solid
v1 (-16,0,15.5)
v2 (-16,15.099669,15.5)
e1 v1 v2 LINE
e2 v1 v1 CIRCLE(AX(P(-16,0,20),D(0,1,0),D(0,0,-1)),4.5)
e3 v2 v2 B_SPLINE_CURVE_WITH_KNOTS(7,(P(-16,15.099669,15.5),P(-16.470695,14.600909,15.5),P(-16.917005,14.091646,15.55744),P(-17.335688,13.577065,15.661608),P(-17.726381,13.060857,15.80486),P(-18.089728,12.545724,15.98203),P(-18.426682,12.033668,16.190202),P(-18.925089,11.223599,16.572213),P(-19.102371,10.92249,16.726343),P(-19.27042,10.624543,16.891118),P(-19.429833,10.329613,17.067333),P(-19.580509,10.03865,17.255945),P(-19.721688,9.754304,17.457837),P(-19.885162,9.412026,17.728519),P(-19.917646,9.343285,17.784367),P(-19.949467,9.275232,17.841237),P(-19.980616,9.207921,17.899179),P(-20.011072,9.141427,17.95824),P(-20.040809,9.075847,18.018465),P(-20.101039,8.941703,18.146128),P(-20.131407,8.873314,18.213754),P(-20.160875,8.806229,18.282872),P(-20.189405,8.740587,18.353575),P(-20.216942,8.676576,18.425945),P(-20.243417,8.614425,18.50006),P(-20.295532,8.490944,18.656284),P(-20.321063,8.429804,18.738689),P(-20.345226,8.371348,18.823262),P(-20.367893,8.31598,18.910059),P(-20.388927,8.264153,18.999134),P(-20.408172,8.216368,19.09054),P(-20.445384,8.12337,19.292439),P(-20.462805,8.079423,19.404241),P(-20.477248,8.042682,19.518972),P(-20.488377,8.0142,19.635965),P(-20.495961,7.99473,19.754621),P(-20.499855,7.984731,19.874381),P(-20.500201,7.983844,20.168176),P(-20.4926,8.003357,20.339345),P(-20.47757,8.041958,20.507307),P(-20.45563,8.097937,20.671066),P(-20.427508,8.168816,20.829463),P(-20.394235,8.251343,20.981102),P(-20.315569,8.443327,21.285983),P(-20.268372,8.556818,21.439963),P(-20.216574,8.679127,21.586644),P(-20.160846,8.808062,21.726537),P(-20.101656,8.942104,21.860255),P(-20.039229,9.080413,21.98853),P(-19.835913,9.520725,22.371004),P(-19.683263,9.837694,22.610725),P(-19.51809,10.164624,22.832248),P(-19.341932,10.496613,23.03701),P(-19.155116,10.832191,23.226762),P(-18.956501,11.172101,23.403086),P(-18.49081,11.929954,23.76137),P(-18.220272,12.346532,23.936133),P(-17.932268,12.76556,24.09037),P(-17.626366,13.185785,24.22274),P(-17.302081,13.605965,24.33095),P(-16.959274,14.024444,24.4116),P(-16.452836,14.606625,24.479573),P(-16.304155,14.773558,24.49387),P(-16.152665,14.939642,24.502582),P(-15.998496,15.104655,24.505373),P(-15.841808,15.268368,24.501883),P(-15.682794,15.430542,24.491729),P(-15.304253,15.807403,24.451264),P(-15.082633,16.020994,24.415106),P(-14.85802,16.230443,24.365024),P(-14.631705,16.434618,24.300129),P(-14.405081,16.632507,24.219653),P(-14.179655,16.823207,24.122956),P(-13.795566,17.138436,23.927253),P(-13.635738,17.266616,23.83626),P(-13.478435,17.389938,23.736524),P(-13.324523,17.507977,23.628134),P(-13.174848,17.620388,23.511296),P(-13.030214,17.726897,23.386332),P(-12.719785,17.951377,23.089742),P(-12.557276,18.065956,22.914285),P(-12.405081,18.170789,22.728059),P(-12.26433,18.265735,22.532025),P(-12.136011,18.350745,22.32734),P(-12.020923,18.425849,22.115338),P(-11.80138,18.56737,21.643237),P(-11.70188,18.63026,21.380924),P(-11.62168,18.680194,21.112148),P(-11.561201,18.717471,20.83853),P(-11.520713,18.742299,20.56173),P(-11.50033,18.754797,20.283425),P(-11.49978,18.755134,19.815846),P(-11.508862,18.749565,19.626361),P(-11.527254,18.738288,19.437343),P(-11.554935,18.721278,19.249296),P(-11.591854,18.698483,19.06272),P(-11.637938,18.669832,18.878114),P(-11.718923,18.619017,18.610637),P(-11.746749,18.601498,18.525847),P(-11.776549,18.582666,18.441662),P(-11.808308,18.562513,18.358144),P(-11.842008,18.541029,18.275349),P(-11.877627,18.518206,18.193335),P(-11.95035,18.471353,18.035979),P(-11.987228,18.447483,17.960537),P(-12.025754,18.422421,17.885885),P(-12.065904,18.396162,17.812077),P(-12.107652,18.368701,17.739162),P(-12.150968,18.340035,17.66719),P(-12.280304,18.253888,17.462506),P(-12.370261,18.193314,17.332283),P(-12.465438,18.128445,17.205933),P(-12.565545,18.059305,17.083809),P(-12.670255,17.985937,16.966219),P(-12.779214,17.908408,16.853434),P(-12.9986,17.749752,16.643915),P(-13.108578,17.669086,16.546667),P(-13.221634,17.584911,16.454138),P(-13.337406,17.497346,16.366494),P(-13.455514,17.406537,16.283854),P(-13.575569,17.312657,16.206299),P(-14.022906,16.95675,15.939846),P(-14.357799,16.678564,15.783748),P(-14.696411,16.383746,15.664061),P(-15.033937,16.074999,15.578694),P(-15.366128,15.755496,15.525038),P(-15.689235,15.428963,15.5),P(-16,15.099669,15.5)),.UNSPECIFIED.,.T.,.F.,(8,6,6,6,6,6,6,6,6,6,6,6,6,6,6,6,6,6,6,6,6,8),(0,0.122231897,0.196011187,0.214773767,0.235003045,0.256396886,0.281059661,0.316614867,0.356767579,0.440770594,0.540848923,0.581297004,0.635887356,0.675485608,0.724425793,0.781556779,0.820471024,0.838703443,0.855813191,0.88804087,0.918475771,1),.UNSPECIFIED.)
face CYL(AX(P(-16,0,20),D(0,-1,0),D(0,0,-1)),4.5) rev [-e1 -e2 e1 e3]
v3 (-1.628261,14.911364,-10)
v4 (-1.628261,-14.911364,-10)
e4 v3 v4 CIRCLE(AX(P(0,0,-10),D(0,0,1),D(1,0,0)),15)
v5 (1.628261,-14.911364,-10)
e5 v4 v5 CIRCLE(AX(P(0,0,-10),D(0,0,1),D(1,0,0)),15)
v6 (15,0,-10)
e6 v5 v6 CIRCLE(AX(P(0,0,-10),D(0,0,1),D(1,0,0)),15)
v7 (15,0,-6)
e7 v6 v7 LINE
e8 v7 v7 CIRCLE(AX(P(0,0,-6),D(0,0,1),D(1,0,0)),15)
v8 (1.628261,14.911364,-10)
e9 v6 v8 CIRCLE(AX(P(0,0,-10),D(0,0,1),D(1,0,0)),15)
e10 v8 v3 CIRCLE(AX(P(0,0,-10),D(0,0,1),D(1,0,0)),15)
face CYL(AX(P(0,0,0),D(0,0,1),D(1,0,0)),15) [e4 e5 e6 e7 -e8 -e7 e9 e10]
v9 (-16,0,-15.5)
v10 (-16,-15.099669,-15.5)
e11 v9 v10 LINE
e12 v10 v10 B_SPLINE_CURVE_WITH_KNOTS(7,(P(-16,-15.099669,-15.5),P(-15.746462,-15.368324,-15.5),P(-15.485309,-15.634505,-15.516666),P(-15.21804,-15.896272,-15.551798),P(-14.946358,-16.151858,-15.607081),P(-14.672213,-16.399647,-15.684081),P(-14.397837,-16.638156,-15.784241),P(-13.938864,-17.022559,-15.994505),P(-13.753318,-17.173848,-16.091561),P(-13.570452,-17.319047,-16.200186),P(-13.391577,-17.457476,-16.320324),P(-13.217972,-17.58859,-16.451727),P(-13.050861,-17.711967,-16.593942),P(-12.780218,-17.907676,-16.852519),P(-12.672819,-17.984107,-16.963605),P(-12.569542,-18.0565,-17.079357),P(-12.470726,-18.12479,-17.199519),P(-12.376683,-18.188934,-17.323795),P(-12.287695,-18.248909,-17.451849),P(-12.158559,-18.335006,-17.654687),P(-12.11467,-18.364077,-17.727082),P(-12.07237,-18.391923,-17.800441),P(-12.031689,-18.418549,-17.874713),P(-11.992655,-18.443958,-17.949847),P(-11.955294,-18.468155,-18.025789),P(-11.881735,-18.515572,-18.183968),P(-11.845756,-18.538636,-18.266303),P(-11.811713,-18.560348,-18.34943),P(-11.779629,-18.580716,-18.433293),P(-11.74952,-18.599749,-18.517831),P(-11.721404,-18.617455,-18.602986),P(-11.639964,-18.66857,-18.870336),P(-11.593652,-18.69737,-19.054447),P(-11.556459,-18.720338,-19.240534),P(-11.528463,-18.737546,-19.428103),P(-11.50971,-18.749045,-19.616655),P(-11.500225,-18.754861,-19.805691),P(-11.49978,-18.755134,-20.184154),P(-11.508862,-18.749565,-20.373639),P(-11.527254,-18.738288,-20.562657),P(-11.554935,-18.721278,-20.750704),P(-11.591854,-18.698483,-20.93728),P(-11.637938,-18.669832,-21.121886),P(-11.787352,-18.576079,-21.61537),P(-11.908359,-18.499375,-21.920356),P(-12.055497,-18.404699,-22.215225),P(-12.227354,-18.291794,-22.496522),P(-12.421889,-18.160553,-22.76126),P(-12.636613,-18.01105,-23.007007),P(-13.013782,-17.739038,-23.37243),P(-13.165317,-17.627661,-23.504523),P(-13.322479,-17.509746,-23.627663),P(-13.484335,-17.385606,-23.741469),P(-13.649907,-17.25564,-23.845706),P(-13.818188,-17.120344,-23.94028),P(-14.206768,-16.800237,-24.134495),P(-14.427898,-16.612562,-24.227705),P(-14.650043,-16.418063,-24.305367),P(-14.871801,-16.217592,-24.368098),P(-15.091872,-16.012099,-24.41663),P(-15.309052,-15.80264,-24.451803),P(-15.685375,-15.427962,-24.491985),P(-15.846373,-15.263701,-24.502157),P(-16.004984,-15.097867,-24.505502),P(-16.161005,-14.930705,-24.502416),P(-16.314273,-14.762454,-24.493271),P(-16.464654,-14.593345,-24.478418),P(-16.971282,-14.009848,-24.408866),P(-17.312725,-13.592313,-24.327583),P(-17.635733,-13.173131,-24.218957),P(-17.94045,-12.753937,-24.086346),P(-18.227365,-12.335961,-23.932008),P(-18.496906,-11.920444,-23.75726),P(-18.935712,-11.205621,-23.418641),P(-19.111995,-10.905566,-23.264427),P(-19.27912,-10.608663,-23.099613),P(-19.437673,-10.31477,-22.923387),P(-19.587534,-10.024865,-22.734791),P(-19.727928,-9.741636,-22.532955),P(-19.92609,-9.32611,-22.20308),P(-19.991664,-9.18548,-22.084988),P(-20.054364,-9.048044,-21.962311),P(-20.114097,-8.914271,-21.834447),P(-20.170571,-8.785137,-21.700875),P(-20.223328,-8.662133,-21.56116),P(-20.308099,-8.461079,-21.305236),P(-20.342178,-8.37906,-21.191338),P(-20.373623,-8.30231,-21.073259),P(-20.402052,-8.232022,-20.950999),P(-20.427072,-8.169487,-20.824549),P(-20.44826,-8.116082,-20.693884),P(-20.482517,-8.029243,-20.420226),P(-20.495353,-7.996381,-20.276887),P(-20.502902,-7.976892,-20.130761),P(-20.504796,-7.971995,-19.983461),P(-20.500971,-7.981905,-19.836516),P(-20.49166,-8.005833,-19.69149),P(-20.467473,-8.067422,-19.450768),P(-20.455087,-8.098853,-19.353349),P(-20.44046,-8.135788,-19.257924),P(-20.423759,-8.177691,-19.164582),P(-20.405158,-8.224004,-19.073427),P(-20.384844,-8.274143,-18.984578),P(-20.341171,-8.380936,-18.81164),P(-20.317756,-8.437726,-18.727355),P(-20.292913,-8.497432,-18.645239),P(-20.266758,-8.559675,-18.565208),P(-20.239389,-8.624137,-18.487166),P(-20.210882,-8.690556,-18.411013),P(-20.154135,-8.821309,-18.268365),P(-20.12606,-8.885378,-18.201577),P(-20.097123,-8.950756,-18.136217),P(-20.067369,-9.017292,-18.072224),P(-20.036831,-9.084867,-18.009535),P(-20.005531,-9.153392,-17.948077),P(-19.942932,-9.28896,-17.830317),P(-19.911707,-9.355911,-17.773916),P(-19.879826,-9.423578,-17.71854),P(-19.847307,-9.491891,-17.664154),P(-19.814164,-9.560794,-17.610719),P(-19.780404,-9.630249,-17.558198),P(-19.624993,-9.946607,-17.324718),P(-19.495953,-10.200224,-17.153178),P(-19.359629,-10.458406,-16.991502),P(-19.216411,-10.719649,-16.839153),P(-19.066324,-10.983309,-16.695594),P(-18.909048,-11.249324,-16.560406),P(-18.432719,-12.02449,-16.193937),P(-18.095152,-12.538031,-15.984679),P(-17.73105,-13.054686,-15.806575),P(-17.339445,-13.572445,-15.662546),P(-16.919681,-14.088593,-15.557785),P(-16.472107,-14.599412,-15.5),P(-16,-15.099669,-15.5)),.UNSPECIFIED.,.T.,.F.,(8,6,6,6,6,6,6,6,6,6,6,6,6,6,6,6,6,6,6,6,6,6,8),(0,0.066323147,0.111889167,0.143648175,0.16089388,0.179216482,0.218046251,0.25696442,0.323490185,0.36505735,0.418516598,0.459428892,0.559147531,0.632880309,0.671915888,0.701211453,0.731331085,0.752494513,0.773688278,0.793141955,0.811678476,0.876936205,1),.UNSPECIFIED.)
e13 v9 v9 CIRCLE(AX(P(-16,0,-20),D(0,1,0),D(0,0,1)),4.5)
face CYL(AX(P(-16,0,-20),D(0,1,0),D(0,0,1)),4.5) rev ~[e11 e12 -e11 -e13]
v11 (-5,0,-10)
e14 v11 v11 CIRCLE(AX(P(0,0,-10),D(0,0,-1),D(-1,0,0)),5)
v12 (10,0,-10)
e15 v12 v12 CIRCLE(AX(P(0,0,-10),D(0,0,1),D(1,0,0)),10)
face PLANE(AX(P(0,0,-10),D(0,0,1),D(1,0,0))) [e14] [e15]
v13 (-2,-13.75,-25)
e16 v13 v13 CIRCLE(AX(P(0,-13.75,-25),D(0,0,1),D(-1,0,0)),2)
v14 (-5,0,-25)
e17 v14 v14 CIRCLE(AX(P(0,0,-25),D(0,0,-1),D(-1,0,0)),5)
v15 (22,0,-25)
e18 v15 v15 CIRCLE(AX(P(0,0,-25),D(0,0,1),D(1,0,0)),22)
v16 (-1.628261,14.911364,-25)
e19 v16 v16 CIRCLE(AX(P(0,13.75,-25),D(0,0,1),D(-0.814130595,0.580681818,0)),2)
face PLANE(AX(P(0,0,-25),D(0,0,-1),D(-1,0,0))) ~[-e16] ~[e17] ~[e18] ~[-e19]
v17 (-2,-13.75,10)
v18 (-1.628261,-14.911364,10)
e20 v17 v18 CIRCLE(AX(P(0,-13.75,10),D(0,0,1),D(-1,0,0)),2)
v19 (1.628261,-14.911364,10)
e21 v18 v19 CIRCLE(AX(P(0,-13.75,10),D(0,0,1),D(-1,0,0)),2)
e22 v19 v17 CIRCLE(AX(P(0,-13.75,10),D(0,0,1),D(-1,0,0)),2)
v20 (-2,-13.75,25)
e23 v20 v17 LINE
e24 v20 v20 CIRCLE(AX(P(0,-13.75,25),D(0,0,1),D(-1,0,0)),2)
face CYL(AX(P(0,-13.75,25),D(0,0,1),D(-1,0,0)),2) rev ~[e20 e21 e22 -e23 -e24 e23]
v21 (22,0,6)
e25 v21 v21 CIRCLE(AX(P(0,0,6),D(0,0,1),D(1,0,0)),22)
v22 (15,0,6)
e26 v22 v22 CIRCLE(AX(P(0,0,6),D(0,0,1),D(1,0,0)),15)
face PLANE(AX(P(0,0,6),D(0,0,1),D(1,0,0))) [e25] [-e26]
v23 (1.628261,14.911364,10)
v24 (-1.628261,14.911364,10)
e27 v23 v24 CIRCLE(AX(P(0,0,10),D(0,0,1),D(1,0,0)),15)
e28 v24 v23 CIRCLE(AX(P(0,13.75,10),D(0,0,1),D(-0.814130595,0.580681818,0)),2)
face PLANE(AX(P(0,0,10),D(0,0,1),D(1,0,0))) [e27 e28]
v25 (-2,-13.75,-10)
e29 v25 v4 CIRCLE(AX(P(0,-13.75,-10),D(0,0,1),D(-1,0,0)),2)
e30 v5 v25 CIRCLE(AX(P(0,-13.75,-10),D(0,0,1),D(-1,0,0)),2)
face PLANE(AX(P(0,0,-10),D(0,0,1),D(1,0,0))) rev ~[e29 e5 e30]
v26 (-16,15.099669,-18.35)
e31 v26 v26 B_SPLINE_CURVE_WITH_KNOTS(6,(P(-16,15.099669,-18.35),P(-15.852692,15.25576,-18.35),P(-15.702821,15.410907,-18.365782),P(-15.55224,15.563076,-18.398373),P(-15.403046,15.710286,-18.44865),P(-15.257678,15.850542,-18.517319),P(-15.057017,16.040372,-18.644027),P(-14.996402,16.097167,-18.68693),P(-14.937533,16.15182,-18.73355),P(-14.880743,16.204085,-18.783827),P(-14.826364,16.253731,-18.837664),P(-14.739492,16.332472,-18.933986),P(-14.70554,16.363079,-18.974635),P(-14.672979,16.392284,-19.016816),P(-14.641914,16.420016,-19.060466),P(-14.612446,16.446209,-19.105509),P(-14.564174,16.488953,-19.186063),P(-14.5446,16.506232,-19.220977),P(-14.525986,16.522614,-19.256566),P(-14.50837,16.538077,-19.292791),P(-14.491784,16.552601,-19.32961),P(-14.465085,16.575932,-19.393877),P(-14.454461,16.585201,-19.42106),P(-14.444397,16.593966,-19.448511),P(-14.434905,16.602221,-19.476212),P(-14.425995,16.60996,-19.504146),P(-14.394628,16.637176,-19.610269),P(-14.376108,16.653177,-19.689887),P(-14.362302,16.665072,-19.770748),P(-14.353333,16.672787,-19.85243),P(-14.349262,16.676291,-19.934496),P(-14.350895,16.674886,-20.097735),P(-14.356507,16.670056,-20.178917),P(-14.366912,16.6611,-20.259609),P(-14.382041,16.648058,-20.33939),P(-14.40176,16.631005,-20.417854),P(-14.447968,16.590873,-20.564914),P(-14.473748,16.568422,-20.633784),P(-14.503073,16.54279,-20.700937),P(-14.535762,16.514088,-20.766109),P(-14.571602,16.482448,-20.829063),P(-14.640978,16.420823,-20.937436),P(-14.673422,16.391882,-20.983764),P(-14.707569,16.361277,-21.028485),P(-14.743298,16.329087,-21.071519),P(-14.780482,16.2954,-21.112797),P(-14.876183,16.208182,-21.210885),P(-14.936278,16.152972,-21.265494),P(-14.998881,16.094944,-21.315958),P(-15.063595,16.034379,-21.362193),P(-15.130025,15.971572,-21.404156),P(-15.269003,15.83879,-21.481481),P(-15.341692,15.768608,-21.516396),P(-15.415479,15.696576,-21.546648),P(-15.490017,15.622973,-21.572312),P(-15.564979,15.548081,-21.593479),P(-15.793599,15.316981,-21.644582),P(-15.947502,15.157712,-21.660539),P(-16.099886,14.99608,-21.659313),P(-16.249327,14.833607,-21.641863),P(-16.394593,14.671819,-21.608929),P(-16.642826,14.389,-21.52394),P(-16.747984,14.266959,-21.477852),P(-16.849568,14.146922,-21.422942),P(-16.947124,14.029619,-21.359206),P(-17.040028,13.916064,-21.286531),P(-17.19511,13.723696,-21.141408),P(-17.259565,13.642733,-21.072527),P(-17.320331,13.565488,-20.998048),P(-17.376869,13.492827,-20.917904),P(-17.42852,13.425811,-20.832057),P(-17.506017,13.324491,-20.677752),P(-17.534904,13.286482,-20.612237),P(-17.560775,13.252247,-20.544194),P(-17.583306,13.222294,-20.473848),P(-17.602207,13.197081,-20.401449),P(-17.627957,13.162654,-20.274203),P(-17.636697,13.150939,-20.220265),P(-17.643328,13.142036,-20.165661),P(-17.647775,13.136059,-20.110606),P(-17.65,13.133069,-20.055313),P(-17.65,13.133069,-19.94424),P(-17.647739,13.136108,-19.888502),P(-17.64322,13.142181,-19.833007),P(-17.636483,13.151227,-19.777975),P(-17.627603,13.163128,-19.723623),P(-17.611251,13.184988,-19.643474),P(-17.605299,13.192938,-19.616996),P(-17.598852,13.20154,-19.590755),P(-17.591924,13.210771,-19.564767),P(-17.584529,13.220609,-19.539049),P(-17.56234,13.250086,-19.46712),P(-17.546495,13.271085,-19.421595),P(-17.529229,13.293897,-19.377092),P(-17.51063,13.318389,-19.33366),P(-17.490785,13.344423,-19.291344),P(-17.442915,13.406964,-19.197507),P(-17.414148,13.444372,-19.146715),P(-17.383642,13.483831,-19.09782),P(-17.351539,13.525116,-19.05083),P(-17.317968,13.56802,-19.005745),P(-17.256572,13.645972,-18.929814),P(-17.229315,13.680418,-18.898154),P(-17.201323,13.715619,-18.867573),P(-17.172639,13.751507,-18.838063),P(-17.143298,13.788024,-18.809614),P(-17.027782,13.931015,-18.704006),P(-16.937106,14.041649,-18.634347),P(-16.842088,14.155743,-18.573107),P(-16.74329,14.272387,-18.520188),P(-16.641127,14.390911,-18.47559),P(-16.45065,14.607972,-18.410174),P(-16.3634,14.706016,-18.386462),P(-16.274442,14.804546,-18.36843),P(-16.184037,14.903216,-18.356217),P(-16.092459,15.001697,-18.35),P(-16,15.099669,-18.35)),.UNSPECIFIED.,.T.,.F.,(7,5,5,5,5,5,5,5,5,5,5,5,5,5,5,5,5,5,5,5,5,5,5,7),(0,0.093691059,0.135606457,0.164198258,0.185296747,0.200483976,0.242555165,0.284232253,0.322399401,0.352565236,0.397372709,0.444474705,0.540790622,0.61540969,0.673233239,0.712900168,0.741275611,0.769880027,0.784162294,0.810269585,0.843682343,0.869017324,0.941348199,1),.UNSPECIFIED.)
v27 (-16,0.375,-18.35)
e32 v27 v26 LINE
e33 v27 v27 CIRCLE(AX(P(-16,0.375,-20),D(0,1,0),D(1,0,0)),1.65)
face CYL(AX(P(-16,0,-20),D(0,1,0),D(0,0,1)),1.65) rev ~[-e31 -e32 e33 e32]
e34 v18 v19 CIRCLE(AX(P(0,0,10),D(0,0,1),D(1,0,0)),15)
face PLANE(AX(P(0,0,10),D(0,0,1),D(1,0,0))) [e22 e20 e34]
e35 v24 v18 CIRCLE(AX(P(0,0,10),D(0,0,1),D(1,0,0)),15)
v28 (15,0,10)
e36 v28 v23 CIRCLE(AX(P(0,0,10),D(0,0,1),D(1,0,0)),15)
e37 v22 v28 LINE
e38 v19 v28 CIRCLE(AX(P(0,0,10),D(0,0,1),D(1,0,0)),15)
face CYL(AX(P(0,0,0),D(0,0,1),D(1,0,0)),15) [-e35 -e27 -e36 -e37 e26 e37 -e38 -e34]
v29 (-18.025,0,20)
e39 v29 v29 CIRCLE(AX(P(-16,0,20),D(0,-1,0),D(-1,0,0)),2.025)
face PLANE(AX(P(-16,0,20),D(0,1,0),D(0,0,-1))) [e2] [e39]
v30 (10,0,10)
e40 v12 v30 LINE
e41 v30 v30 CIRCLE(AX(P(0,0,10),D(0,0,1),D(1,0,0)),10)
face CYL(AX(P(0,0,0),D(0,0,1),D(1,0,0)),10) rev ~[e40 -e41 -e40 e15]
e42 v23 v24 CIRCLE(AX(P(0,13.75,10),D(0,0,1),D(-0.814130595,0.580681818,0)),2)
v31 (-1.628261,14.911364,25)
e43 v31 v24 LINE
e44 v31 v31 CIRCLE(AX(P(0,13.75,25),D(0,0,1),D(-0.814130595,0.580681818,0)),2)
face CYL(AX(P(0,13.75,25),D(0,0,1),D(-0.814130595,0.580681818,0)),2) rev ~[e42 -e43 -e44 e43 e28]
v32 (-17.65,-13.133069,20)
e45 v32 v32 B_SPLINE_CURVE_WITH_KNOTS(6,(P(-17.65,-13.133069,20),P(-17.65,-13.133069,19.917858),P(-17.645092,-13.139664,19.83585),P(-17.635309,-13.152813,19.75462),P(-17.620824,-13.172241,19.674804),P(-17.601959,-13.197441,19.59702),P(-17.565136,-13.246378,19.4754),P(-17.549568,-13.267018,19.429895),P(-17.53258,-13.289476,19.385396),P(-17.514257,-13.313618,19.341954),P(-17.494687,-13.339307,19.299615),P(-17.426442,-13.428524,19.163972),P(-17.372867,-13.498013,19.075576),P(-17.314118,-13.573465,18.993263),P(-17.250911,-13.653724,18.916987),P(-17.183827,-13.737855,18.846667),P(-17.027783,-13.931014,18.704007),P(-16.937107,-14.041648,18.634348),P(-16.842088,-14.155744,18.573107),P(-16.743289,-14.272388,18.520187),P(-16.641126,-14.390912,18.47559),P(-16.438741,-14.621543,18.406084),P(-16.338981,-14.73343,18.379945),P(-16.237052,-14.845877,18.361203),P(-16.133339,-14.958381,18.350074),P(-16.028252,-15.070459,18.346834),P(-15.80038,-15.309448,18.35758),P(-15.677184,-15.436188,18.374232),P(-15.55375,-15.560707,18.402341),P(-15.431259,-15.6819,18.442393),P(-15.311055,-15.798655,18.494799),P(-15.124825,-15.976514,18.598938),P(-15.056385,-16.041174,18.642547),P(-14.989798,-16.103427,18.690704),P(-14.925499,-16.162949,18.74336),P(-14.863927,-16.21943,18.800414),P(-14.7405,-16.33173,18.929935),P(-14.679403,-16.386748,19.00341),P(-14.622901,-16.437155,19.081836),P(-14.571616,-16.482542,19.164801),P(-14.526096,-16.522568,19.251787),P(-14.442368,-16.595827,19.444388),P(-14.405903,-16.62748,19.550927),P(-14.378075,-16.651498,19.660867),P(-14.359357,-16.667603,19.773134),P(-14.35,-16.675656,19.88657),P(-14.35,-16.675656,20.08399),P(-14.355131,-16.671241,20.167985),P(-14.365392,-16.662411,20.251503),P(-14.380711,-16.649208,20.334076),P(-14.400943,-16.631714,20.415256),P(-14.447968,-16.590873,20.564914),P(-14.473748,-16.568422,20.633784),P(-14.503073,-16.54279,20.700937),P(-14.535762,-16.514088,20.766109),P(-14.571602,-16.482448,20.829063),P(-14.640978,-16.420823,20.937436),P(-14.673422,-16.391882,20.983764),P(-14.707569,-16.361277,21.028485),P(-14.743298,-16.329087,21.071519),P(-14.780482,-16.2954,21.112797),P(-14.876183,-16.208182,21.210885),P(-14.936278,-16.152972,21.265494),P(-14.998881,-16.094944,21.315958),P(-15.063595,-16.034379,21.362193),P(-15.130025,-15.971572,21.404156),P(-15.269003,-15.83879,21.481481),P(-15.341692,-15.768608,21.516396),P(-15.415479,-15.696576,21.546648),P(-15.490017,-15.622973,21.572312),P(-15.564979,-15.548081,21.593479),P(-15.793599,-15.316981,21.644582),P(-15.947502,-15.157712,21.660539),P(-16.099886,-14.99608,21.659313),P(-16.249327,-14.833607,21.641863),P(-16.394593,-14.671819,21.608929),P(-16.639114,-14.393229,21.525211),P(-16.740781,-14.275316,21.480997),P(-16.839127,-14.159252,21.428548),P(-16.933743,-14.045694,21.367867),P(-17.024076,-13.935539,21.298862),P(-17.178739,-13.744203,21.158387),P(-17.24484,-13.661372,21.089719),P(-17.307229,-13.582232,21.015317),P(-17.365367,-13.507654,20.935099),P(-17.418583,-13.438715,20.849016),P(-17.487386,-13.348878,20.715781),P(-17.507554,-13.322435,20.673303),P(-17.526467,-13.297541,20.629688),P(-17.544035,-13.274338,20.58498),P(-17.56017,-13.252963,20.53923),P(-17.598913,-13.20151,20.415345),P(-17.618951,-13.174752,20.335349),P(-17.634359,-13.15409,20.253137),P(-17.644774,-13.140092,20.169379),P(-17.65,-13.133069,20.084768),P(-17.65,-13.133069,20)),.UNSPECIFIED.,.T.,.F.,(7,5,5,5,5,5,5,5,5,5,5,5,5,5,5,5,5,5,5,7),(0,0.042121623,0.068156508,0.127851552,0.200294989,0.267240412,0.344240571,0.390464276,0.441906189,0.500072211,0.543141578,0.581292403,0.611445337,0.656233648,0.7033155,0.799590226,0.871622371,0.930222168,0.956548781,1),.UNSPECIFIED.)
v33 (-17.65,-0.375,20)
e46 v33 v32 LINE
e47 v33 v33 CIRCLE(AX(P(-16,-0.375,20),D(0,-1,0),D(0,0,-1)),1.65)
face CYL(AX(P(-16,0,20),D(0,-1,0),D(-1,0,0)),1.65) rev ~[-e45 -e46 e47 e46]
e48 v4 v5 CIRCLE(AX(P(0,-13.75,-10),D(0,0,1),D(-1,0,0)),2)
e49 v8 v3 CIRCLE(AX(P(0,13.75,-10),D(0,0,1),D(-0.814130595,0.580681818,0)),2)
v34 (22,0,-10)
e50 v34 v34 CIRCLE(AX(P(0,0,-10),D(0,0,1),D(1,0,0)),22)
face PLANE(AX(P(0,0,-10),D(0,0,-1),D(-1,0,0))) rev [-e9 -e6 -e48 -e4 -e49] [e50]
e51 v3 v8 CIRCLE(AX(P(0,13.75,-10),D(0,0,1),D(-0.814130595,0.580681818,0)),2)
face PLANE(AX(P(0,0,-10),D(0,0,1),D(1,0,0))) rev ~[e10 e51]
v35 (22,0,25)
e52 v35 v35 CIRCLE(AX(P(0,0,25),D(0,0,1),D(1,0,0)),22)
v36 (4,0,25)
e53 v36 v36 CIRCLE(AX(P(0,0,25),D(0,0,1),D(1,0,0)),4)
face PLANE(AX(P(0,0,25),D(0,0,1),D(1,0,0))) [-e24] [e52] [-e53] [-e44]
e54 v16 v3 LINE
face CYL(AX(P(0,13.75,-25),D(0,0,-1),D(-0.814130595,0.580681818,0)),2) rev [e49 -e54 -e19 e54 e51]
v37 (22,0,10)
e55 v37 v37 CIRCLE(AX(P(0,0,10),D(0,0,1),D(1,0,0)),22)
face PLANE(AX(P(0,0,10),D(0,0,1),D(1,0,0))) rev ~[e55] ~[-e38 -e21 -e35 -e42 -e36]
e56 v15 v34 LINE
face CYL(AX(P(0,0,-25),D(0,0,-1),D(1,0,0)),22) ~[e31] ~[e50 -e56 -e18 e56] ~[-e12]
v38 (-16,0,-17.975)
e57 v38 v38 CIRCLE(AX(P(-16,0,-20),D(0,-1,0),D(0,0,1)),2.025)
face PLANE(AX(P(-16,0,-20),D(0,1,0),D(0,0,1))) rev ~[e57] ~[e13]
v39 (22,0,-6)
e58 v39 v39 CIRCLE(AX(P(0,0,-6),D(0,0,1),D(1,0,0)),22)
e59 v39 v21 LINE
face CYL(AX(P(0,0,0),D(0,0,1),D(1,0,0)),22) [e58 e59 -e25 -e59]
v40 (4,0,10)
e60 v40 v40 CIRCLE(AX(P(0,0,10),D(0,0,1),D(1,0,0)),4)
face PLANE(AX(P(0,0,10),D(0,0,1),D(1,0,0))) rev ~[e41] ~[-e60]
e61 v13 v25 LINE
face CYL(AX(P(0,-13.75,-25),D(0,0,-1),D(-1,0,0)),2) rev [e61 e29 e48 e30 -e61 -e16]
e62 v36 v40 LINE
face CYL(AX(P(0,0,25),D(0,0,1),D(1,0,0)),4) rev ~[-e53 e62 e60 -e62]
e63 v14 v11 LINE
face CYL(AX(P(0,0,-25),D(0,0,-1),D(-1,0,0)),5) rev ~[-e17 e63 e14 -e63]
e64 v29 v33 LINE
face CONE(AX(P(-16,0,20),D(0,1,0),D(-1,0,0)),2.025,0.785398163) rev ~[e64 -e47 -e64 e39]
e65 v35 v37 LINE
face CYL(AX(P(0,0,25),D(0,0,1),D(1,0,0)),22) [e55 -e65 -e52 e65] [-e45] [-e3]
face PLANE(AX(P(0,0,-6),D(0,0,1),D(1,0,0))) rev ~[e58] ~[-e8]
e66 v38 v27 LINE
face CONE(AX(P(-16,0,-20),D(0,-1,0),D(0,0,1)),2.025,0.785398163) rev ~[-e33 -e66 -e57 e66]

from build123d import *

# Parameters (mm, degrees)
SKETCH_1_R                   = 22
EXTRUDE_1_DEPTH              = 6
SKETCH_2_R                   = 15
EXTRUDE_2_DEPTH              = 10
EXTRUDE_START                = 15
SKETCH_3_R                   = 22
SKETCH_3_R_2                 = 2
EXTRUDE_3_DEPTH              = 15
SKETCH_4_R                   = 1.5
CUT_EXTRUDE_1_DEPTH          = 40.912404087
SKETCH_5_R                   = 4.5
CUT_EXTRUDE_2_DEPTH          = 40.91240426
HOLE_WIZARD_M4_1_D           = 3.3
HOLE_WIZARD_M4_1_CSINK_D     = 4.05
HOLE_WIZARD_M4_1_CSINK_ANGLE = 90
SKETCH_8_R                   = 1.5
CUT_EXTRUDE_3_DEPTH          = 40.91240426
SKETCH_9_R                   = 4.5
CUT_EXTRUDE_4_DEPTH          = 40.91240426
HOLE_WIZARD_M4_2_D           = 3.3
HOLE_WIZARD_M4_2_CSINK_D     = 4.05
HOLE_WIZARD_M4_2_CSINK_ANGLE = 90
SKETCH_11_R                  = 4
CUT_EXTRUDE_5_DEPTH          = 15
SKETCH_12_R                  = 5
CUT_EXTRUDE_6_DEPTH          = 15
SKETCH_13_R                  = 10
CUT_EXTRUDE_7_DEPTH          = 10


with BuildPart() as part:
    # 草图1 → 凸台-拉伸1 (new, symmetric)
    with BuildSketch(Plane.XY):
        Circle(SKETCH_1_R)
    extrude(amount=EXTRUDE_1_DEPTH, both=True)

    # 草图2 → 凸台-拉伸2 (add, symmetric)
    with BuildSketch(Plane.XY):
        Circle(SKETCH_2_R)
    extrude(amount=EXTRUDE_2_DEPTH, both=True)

    # 草图3 → 凸台-拉伸3 (add)
    with BuildSketch(Plane.XY.offset(10).offset(EXTRUDE_START)):
        Circle(SKETCH_3_R)
        with Locations(Location((0, 13.75, 0), (0, 0, 144.501487602))):
            Circle(SKETCH_3_R_2, mode=Mode.SUBTRACT)
        with Locations(Location((0, -13.75, 0), (0, 0, 180))):
            Circle(SKETCH_3_R_2, mode=Mode.SUBTRACT)
    extrude_3 = extrude(amount=-EXTRUDE_3_DEPTH)

    # 草图4 → 切除-拉伸1 (cut, through all)
    with BuildSketch(Plane(origin=(0, 0, 0), x_dir=(1, 0, 0), z_dir=(0, 1, 0))):
        with Locations(Location((-16, -20, 0), (0, 0, 270))):
            Circle(SKETCH_4_R)
    extrude(amount=-CUT_EXTRUDE_1_DEPTH, mode=Mode.SUBTRACT)

    # 草图5 → 切除-拉伸2 (cut, through all)
    with BuildSketch(Plane(origin=(0, 0, 0), x_dir=(1, 0, 0), z_dir=(0, 1, 0))):
        with Locations(Location((-16, -20, 0), (0, 0, 90))):
            Circle(SKETCH_5_R)
    extrude(amount=CUT_EXTRUDE_2_DEPTH, mode=Mode.SUBTRACT)

    # M4 螺纹孔1 (through all)
    with Locations(Plane(origin=(0, 0, 0), x_dir=(1, 0, 0), z_dir=(0, 1, 0))):
        with Locations((-16, -20)):
            CounterSinkHole(HOLE_WIZARD_M4_1_D / 2, HOLE_WIZARD_M4_1_CSINK_D / 2, counter_sink_angle=HOLE_WIZARD_M4_1_CSINK_ANGLE)

    # 镜向1: 凸台-拉伸3 across plane
    add(extrude_3.mirror(Plane.XY))

    # 草图8 → 切除-拉伸3 (cut, through all)
    with BuildSketch(Plane(origin=(0, 0, 0), x_dir=(1, 0, 0), z_dir=(0, 1, 0))):
        with Locations(Location((-16, 20, 0), (0, 0, 90))):
            Circle(SKETCH_8_R)
    extrude(amount=CUT_EXTRUDE_3_DEPTH, mode=Mode.SUBTRACT)

    # 草图9 → 切除-拉伸4 (cut, through all)
    with BuildSketch(Plane(origin=(0, 0, 0), x_dir=(1, 0, 0), z_dir=(0, 1, 0))):
        with Locations(Location((-16, 20, 0), (0, 0, 270))):
            Circle(SKETCH_9_R)
    extrude(amount=-CUT_EXTRUDE_4_DEPTH, mode=Mode.SUBTRACT)

    # M4 螺纹孔2 (through all)
    with Locations(Plane(origin=(-16, 0, -20), x_dir=(0, 0, -1), z_dir=(0, -1, 0))):
        with Locations((0, 0)):
            CounterSinkHole(HOLE_WIZARD_M4_2_D / 2, HOLE_WIZARD_M4_2_CSINK_D / 2, counter_sink_angle=HOLE_WIZARD_M4_2_CSINK_ANGLE)

    # 草图11 → 切除-拉伸5 (cut)
    with BuildSketch(Plane.XY.offset(25)):
        Circle(SKETCH_11_R)
    extrude(amount=-CUT_EXTRUDE_5_DEPTH, mode=Mode.SUBTRACT)

    # 草图12 → 切除-拉伸6 (cut)
    with BuildSketch(Plane(origin=(0, 0, -25), x_dir=(-1, 0, 0), z_dir=(0, 0, -1))):
        Circle(SKETCH_12_R)
    extrude(amount=-CUT_EXTRUDE_6_DEPTH, mode=Mode.SUBTRACT)

    # 草图13 → 切除-拉伸7 (cut, symmetric)
    with BuildSketch(Plane.XY):
        Circle(SKETCH_13_R)
    extrude(amount=CUT_EXTRUDE_7_DEPTH, both=True, mode=Mode.SUBTRACT)


solid = part.part
